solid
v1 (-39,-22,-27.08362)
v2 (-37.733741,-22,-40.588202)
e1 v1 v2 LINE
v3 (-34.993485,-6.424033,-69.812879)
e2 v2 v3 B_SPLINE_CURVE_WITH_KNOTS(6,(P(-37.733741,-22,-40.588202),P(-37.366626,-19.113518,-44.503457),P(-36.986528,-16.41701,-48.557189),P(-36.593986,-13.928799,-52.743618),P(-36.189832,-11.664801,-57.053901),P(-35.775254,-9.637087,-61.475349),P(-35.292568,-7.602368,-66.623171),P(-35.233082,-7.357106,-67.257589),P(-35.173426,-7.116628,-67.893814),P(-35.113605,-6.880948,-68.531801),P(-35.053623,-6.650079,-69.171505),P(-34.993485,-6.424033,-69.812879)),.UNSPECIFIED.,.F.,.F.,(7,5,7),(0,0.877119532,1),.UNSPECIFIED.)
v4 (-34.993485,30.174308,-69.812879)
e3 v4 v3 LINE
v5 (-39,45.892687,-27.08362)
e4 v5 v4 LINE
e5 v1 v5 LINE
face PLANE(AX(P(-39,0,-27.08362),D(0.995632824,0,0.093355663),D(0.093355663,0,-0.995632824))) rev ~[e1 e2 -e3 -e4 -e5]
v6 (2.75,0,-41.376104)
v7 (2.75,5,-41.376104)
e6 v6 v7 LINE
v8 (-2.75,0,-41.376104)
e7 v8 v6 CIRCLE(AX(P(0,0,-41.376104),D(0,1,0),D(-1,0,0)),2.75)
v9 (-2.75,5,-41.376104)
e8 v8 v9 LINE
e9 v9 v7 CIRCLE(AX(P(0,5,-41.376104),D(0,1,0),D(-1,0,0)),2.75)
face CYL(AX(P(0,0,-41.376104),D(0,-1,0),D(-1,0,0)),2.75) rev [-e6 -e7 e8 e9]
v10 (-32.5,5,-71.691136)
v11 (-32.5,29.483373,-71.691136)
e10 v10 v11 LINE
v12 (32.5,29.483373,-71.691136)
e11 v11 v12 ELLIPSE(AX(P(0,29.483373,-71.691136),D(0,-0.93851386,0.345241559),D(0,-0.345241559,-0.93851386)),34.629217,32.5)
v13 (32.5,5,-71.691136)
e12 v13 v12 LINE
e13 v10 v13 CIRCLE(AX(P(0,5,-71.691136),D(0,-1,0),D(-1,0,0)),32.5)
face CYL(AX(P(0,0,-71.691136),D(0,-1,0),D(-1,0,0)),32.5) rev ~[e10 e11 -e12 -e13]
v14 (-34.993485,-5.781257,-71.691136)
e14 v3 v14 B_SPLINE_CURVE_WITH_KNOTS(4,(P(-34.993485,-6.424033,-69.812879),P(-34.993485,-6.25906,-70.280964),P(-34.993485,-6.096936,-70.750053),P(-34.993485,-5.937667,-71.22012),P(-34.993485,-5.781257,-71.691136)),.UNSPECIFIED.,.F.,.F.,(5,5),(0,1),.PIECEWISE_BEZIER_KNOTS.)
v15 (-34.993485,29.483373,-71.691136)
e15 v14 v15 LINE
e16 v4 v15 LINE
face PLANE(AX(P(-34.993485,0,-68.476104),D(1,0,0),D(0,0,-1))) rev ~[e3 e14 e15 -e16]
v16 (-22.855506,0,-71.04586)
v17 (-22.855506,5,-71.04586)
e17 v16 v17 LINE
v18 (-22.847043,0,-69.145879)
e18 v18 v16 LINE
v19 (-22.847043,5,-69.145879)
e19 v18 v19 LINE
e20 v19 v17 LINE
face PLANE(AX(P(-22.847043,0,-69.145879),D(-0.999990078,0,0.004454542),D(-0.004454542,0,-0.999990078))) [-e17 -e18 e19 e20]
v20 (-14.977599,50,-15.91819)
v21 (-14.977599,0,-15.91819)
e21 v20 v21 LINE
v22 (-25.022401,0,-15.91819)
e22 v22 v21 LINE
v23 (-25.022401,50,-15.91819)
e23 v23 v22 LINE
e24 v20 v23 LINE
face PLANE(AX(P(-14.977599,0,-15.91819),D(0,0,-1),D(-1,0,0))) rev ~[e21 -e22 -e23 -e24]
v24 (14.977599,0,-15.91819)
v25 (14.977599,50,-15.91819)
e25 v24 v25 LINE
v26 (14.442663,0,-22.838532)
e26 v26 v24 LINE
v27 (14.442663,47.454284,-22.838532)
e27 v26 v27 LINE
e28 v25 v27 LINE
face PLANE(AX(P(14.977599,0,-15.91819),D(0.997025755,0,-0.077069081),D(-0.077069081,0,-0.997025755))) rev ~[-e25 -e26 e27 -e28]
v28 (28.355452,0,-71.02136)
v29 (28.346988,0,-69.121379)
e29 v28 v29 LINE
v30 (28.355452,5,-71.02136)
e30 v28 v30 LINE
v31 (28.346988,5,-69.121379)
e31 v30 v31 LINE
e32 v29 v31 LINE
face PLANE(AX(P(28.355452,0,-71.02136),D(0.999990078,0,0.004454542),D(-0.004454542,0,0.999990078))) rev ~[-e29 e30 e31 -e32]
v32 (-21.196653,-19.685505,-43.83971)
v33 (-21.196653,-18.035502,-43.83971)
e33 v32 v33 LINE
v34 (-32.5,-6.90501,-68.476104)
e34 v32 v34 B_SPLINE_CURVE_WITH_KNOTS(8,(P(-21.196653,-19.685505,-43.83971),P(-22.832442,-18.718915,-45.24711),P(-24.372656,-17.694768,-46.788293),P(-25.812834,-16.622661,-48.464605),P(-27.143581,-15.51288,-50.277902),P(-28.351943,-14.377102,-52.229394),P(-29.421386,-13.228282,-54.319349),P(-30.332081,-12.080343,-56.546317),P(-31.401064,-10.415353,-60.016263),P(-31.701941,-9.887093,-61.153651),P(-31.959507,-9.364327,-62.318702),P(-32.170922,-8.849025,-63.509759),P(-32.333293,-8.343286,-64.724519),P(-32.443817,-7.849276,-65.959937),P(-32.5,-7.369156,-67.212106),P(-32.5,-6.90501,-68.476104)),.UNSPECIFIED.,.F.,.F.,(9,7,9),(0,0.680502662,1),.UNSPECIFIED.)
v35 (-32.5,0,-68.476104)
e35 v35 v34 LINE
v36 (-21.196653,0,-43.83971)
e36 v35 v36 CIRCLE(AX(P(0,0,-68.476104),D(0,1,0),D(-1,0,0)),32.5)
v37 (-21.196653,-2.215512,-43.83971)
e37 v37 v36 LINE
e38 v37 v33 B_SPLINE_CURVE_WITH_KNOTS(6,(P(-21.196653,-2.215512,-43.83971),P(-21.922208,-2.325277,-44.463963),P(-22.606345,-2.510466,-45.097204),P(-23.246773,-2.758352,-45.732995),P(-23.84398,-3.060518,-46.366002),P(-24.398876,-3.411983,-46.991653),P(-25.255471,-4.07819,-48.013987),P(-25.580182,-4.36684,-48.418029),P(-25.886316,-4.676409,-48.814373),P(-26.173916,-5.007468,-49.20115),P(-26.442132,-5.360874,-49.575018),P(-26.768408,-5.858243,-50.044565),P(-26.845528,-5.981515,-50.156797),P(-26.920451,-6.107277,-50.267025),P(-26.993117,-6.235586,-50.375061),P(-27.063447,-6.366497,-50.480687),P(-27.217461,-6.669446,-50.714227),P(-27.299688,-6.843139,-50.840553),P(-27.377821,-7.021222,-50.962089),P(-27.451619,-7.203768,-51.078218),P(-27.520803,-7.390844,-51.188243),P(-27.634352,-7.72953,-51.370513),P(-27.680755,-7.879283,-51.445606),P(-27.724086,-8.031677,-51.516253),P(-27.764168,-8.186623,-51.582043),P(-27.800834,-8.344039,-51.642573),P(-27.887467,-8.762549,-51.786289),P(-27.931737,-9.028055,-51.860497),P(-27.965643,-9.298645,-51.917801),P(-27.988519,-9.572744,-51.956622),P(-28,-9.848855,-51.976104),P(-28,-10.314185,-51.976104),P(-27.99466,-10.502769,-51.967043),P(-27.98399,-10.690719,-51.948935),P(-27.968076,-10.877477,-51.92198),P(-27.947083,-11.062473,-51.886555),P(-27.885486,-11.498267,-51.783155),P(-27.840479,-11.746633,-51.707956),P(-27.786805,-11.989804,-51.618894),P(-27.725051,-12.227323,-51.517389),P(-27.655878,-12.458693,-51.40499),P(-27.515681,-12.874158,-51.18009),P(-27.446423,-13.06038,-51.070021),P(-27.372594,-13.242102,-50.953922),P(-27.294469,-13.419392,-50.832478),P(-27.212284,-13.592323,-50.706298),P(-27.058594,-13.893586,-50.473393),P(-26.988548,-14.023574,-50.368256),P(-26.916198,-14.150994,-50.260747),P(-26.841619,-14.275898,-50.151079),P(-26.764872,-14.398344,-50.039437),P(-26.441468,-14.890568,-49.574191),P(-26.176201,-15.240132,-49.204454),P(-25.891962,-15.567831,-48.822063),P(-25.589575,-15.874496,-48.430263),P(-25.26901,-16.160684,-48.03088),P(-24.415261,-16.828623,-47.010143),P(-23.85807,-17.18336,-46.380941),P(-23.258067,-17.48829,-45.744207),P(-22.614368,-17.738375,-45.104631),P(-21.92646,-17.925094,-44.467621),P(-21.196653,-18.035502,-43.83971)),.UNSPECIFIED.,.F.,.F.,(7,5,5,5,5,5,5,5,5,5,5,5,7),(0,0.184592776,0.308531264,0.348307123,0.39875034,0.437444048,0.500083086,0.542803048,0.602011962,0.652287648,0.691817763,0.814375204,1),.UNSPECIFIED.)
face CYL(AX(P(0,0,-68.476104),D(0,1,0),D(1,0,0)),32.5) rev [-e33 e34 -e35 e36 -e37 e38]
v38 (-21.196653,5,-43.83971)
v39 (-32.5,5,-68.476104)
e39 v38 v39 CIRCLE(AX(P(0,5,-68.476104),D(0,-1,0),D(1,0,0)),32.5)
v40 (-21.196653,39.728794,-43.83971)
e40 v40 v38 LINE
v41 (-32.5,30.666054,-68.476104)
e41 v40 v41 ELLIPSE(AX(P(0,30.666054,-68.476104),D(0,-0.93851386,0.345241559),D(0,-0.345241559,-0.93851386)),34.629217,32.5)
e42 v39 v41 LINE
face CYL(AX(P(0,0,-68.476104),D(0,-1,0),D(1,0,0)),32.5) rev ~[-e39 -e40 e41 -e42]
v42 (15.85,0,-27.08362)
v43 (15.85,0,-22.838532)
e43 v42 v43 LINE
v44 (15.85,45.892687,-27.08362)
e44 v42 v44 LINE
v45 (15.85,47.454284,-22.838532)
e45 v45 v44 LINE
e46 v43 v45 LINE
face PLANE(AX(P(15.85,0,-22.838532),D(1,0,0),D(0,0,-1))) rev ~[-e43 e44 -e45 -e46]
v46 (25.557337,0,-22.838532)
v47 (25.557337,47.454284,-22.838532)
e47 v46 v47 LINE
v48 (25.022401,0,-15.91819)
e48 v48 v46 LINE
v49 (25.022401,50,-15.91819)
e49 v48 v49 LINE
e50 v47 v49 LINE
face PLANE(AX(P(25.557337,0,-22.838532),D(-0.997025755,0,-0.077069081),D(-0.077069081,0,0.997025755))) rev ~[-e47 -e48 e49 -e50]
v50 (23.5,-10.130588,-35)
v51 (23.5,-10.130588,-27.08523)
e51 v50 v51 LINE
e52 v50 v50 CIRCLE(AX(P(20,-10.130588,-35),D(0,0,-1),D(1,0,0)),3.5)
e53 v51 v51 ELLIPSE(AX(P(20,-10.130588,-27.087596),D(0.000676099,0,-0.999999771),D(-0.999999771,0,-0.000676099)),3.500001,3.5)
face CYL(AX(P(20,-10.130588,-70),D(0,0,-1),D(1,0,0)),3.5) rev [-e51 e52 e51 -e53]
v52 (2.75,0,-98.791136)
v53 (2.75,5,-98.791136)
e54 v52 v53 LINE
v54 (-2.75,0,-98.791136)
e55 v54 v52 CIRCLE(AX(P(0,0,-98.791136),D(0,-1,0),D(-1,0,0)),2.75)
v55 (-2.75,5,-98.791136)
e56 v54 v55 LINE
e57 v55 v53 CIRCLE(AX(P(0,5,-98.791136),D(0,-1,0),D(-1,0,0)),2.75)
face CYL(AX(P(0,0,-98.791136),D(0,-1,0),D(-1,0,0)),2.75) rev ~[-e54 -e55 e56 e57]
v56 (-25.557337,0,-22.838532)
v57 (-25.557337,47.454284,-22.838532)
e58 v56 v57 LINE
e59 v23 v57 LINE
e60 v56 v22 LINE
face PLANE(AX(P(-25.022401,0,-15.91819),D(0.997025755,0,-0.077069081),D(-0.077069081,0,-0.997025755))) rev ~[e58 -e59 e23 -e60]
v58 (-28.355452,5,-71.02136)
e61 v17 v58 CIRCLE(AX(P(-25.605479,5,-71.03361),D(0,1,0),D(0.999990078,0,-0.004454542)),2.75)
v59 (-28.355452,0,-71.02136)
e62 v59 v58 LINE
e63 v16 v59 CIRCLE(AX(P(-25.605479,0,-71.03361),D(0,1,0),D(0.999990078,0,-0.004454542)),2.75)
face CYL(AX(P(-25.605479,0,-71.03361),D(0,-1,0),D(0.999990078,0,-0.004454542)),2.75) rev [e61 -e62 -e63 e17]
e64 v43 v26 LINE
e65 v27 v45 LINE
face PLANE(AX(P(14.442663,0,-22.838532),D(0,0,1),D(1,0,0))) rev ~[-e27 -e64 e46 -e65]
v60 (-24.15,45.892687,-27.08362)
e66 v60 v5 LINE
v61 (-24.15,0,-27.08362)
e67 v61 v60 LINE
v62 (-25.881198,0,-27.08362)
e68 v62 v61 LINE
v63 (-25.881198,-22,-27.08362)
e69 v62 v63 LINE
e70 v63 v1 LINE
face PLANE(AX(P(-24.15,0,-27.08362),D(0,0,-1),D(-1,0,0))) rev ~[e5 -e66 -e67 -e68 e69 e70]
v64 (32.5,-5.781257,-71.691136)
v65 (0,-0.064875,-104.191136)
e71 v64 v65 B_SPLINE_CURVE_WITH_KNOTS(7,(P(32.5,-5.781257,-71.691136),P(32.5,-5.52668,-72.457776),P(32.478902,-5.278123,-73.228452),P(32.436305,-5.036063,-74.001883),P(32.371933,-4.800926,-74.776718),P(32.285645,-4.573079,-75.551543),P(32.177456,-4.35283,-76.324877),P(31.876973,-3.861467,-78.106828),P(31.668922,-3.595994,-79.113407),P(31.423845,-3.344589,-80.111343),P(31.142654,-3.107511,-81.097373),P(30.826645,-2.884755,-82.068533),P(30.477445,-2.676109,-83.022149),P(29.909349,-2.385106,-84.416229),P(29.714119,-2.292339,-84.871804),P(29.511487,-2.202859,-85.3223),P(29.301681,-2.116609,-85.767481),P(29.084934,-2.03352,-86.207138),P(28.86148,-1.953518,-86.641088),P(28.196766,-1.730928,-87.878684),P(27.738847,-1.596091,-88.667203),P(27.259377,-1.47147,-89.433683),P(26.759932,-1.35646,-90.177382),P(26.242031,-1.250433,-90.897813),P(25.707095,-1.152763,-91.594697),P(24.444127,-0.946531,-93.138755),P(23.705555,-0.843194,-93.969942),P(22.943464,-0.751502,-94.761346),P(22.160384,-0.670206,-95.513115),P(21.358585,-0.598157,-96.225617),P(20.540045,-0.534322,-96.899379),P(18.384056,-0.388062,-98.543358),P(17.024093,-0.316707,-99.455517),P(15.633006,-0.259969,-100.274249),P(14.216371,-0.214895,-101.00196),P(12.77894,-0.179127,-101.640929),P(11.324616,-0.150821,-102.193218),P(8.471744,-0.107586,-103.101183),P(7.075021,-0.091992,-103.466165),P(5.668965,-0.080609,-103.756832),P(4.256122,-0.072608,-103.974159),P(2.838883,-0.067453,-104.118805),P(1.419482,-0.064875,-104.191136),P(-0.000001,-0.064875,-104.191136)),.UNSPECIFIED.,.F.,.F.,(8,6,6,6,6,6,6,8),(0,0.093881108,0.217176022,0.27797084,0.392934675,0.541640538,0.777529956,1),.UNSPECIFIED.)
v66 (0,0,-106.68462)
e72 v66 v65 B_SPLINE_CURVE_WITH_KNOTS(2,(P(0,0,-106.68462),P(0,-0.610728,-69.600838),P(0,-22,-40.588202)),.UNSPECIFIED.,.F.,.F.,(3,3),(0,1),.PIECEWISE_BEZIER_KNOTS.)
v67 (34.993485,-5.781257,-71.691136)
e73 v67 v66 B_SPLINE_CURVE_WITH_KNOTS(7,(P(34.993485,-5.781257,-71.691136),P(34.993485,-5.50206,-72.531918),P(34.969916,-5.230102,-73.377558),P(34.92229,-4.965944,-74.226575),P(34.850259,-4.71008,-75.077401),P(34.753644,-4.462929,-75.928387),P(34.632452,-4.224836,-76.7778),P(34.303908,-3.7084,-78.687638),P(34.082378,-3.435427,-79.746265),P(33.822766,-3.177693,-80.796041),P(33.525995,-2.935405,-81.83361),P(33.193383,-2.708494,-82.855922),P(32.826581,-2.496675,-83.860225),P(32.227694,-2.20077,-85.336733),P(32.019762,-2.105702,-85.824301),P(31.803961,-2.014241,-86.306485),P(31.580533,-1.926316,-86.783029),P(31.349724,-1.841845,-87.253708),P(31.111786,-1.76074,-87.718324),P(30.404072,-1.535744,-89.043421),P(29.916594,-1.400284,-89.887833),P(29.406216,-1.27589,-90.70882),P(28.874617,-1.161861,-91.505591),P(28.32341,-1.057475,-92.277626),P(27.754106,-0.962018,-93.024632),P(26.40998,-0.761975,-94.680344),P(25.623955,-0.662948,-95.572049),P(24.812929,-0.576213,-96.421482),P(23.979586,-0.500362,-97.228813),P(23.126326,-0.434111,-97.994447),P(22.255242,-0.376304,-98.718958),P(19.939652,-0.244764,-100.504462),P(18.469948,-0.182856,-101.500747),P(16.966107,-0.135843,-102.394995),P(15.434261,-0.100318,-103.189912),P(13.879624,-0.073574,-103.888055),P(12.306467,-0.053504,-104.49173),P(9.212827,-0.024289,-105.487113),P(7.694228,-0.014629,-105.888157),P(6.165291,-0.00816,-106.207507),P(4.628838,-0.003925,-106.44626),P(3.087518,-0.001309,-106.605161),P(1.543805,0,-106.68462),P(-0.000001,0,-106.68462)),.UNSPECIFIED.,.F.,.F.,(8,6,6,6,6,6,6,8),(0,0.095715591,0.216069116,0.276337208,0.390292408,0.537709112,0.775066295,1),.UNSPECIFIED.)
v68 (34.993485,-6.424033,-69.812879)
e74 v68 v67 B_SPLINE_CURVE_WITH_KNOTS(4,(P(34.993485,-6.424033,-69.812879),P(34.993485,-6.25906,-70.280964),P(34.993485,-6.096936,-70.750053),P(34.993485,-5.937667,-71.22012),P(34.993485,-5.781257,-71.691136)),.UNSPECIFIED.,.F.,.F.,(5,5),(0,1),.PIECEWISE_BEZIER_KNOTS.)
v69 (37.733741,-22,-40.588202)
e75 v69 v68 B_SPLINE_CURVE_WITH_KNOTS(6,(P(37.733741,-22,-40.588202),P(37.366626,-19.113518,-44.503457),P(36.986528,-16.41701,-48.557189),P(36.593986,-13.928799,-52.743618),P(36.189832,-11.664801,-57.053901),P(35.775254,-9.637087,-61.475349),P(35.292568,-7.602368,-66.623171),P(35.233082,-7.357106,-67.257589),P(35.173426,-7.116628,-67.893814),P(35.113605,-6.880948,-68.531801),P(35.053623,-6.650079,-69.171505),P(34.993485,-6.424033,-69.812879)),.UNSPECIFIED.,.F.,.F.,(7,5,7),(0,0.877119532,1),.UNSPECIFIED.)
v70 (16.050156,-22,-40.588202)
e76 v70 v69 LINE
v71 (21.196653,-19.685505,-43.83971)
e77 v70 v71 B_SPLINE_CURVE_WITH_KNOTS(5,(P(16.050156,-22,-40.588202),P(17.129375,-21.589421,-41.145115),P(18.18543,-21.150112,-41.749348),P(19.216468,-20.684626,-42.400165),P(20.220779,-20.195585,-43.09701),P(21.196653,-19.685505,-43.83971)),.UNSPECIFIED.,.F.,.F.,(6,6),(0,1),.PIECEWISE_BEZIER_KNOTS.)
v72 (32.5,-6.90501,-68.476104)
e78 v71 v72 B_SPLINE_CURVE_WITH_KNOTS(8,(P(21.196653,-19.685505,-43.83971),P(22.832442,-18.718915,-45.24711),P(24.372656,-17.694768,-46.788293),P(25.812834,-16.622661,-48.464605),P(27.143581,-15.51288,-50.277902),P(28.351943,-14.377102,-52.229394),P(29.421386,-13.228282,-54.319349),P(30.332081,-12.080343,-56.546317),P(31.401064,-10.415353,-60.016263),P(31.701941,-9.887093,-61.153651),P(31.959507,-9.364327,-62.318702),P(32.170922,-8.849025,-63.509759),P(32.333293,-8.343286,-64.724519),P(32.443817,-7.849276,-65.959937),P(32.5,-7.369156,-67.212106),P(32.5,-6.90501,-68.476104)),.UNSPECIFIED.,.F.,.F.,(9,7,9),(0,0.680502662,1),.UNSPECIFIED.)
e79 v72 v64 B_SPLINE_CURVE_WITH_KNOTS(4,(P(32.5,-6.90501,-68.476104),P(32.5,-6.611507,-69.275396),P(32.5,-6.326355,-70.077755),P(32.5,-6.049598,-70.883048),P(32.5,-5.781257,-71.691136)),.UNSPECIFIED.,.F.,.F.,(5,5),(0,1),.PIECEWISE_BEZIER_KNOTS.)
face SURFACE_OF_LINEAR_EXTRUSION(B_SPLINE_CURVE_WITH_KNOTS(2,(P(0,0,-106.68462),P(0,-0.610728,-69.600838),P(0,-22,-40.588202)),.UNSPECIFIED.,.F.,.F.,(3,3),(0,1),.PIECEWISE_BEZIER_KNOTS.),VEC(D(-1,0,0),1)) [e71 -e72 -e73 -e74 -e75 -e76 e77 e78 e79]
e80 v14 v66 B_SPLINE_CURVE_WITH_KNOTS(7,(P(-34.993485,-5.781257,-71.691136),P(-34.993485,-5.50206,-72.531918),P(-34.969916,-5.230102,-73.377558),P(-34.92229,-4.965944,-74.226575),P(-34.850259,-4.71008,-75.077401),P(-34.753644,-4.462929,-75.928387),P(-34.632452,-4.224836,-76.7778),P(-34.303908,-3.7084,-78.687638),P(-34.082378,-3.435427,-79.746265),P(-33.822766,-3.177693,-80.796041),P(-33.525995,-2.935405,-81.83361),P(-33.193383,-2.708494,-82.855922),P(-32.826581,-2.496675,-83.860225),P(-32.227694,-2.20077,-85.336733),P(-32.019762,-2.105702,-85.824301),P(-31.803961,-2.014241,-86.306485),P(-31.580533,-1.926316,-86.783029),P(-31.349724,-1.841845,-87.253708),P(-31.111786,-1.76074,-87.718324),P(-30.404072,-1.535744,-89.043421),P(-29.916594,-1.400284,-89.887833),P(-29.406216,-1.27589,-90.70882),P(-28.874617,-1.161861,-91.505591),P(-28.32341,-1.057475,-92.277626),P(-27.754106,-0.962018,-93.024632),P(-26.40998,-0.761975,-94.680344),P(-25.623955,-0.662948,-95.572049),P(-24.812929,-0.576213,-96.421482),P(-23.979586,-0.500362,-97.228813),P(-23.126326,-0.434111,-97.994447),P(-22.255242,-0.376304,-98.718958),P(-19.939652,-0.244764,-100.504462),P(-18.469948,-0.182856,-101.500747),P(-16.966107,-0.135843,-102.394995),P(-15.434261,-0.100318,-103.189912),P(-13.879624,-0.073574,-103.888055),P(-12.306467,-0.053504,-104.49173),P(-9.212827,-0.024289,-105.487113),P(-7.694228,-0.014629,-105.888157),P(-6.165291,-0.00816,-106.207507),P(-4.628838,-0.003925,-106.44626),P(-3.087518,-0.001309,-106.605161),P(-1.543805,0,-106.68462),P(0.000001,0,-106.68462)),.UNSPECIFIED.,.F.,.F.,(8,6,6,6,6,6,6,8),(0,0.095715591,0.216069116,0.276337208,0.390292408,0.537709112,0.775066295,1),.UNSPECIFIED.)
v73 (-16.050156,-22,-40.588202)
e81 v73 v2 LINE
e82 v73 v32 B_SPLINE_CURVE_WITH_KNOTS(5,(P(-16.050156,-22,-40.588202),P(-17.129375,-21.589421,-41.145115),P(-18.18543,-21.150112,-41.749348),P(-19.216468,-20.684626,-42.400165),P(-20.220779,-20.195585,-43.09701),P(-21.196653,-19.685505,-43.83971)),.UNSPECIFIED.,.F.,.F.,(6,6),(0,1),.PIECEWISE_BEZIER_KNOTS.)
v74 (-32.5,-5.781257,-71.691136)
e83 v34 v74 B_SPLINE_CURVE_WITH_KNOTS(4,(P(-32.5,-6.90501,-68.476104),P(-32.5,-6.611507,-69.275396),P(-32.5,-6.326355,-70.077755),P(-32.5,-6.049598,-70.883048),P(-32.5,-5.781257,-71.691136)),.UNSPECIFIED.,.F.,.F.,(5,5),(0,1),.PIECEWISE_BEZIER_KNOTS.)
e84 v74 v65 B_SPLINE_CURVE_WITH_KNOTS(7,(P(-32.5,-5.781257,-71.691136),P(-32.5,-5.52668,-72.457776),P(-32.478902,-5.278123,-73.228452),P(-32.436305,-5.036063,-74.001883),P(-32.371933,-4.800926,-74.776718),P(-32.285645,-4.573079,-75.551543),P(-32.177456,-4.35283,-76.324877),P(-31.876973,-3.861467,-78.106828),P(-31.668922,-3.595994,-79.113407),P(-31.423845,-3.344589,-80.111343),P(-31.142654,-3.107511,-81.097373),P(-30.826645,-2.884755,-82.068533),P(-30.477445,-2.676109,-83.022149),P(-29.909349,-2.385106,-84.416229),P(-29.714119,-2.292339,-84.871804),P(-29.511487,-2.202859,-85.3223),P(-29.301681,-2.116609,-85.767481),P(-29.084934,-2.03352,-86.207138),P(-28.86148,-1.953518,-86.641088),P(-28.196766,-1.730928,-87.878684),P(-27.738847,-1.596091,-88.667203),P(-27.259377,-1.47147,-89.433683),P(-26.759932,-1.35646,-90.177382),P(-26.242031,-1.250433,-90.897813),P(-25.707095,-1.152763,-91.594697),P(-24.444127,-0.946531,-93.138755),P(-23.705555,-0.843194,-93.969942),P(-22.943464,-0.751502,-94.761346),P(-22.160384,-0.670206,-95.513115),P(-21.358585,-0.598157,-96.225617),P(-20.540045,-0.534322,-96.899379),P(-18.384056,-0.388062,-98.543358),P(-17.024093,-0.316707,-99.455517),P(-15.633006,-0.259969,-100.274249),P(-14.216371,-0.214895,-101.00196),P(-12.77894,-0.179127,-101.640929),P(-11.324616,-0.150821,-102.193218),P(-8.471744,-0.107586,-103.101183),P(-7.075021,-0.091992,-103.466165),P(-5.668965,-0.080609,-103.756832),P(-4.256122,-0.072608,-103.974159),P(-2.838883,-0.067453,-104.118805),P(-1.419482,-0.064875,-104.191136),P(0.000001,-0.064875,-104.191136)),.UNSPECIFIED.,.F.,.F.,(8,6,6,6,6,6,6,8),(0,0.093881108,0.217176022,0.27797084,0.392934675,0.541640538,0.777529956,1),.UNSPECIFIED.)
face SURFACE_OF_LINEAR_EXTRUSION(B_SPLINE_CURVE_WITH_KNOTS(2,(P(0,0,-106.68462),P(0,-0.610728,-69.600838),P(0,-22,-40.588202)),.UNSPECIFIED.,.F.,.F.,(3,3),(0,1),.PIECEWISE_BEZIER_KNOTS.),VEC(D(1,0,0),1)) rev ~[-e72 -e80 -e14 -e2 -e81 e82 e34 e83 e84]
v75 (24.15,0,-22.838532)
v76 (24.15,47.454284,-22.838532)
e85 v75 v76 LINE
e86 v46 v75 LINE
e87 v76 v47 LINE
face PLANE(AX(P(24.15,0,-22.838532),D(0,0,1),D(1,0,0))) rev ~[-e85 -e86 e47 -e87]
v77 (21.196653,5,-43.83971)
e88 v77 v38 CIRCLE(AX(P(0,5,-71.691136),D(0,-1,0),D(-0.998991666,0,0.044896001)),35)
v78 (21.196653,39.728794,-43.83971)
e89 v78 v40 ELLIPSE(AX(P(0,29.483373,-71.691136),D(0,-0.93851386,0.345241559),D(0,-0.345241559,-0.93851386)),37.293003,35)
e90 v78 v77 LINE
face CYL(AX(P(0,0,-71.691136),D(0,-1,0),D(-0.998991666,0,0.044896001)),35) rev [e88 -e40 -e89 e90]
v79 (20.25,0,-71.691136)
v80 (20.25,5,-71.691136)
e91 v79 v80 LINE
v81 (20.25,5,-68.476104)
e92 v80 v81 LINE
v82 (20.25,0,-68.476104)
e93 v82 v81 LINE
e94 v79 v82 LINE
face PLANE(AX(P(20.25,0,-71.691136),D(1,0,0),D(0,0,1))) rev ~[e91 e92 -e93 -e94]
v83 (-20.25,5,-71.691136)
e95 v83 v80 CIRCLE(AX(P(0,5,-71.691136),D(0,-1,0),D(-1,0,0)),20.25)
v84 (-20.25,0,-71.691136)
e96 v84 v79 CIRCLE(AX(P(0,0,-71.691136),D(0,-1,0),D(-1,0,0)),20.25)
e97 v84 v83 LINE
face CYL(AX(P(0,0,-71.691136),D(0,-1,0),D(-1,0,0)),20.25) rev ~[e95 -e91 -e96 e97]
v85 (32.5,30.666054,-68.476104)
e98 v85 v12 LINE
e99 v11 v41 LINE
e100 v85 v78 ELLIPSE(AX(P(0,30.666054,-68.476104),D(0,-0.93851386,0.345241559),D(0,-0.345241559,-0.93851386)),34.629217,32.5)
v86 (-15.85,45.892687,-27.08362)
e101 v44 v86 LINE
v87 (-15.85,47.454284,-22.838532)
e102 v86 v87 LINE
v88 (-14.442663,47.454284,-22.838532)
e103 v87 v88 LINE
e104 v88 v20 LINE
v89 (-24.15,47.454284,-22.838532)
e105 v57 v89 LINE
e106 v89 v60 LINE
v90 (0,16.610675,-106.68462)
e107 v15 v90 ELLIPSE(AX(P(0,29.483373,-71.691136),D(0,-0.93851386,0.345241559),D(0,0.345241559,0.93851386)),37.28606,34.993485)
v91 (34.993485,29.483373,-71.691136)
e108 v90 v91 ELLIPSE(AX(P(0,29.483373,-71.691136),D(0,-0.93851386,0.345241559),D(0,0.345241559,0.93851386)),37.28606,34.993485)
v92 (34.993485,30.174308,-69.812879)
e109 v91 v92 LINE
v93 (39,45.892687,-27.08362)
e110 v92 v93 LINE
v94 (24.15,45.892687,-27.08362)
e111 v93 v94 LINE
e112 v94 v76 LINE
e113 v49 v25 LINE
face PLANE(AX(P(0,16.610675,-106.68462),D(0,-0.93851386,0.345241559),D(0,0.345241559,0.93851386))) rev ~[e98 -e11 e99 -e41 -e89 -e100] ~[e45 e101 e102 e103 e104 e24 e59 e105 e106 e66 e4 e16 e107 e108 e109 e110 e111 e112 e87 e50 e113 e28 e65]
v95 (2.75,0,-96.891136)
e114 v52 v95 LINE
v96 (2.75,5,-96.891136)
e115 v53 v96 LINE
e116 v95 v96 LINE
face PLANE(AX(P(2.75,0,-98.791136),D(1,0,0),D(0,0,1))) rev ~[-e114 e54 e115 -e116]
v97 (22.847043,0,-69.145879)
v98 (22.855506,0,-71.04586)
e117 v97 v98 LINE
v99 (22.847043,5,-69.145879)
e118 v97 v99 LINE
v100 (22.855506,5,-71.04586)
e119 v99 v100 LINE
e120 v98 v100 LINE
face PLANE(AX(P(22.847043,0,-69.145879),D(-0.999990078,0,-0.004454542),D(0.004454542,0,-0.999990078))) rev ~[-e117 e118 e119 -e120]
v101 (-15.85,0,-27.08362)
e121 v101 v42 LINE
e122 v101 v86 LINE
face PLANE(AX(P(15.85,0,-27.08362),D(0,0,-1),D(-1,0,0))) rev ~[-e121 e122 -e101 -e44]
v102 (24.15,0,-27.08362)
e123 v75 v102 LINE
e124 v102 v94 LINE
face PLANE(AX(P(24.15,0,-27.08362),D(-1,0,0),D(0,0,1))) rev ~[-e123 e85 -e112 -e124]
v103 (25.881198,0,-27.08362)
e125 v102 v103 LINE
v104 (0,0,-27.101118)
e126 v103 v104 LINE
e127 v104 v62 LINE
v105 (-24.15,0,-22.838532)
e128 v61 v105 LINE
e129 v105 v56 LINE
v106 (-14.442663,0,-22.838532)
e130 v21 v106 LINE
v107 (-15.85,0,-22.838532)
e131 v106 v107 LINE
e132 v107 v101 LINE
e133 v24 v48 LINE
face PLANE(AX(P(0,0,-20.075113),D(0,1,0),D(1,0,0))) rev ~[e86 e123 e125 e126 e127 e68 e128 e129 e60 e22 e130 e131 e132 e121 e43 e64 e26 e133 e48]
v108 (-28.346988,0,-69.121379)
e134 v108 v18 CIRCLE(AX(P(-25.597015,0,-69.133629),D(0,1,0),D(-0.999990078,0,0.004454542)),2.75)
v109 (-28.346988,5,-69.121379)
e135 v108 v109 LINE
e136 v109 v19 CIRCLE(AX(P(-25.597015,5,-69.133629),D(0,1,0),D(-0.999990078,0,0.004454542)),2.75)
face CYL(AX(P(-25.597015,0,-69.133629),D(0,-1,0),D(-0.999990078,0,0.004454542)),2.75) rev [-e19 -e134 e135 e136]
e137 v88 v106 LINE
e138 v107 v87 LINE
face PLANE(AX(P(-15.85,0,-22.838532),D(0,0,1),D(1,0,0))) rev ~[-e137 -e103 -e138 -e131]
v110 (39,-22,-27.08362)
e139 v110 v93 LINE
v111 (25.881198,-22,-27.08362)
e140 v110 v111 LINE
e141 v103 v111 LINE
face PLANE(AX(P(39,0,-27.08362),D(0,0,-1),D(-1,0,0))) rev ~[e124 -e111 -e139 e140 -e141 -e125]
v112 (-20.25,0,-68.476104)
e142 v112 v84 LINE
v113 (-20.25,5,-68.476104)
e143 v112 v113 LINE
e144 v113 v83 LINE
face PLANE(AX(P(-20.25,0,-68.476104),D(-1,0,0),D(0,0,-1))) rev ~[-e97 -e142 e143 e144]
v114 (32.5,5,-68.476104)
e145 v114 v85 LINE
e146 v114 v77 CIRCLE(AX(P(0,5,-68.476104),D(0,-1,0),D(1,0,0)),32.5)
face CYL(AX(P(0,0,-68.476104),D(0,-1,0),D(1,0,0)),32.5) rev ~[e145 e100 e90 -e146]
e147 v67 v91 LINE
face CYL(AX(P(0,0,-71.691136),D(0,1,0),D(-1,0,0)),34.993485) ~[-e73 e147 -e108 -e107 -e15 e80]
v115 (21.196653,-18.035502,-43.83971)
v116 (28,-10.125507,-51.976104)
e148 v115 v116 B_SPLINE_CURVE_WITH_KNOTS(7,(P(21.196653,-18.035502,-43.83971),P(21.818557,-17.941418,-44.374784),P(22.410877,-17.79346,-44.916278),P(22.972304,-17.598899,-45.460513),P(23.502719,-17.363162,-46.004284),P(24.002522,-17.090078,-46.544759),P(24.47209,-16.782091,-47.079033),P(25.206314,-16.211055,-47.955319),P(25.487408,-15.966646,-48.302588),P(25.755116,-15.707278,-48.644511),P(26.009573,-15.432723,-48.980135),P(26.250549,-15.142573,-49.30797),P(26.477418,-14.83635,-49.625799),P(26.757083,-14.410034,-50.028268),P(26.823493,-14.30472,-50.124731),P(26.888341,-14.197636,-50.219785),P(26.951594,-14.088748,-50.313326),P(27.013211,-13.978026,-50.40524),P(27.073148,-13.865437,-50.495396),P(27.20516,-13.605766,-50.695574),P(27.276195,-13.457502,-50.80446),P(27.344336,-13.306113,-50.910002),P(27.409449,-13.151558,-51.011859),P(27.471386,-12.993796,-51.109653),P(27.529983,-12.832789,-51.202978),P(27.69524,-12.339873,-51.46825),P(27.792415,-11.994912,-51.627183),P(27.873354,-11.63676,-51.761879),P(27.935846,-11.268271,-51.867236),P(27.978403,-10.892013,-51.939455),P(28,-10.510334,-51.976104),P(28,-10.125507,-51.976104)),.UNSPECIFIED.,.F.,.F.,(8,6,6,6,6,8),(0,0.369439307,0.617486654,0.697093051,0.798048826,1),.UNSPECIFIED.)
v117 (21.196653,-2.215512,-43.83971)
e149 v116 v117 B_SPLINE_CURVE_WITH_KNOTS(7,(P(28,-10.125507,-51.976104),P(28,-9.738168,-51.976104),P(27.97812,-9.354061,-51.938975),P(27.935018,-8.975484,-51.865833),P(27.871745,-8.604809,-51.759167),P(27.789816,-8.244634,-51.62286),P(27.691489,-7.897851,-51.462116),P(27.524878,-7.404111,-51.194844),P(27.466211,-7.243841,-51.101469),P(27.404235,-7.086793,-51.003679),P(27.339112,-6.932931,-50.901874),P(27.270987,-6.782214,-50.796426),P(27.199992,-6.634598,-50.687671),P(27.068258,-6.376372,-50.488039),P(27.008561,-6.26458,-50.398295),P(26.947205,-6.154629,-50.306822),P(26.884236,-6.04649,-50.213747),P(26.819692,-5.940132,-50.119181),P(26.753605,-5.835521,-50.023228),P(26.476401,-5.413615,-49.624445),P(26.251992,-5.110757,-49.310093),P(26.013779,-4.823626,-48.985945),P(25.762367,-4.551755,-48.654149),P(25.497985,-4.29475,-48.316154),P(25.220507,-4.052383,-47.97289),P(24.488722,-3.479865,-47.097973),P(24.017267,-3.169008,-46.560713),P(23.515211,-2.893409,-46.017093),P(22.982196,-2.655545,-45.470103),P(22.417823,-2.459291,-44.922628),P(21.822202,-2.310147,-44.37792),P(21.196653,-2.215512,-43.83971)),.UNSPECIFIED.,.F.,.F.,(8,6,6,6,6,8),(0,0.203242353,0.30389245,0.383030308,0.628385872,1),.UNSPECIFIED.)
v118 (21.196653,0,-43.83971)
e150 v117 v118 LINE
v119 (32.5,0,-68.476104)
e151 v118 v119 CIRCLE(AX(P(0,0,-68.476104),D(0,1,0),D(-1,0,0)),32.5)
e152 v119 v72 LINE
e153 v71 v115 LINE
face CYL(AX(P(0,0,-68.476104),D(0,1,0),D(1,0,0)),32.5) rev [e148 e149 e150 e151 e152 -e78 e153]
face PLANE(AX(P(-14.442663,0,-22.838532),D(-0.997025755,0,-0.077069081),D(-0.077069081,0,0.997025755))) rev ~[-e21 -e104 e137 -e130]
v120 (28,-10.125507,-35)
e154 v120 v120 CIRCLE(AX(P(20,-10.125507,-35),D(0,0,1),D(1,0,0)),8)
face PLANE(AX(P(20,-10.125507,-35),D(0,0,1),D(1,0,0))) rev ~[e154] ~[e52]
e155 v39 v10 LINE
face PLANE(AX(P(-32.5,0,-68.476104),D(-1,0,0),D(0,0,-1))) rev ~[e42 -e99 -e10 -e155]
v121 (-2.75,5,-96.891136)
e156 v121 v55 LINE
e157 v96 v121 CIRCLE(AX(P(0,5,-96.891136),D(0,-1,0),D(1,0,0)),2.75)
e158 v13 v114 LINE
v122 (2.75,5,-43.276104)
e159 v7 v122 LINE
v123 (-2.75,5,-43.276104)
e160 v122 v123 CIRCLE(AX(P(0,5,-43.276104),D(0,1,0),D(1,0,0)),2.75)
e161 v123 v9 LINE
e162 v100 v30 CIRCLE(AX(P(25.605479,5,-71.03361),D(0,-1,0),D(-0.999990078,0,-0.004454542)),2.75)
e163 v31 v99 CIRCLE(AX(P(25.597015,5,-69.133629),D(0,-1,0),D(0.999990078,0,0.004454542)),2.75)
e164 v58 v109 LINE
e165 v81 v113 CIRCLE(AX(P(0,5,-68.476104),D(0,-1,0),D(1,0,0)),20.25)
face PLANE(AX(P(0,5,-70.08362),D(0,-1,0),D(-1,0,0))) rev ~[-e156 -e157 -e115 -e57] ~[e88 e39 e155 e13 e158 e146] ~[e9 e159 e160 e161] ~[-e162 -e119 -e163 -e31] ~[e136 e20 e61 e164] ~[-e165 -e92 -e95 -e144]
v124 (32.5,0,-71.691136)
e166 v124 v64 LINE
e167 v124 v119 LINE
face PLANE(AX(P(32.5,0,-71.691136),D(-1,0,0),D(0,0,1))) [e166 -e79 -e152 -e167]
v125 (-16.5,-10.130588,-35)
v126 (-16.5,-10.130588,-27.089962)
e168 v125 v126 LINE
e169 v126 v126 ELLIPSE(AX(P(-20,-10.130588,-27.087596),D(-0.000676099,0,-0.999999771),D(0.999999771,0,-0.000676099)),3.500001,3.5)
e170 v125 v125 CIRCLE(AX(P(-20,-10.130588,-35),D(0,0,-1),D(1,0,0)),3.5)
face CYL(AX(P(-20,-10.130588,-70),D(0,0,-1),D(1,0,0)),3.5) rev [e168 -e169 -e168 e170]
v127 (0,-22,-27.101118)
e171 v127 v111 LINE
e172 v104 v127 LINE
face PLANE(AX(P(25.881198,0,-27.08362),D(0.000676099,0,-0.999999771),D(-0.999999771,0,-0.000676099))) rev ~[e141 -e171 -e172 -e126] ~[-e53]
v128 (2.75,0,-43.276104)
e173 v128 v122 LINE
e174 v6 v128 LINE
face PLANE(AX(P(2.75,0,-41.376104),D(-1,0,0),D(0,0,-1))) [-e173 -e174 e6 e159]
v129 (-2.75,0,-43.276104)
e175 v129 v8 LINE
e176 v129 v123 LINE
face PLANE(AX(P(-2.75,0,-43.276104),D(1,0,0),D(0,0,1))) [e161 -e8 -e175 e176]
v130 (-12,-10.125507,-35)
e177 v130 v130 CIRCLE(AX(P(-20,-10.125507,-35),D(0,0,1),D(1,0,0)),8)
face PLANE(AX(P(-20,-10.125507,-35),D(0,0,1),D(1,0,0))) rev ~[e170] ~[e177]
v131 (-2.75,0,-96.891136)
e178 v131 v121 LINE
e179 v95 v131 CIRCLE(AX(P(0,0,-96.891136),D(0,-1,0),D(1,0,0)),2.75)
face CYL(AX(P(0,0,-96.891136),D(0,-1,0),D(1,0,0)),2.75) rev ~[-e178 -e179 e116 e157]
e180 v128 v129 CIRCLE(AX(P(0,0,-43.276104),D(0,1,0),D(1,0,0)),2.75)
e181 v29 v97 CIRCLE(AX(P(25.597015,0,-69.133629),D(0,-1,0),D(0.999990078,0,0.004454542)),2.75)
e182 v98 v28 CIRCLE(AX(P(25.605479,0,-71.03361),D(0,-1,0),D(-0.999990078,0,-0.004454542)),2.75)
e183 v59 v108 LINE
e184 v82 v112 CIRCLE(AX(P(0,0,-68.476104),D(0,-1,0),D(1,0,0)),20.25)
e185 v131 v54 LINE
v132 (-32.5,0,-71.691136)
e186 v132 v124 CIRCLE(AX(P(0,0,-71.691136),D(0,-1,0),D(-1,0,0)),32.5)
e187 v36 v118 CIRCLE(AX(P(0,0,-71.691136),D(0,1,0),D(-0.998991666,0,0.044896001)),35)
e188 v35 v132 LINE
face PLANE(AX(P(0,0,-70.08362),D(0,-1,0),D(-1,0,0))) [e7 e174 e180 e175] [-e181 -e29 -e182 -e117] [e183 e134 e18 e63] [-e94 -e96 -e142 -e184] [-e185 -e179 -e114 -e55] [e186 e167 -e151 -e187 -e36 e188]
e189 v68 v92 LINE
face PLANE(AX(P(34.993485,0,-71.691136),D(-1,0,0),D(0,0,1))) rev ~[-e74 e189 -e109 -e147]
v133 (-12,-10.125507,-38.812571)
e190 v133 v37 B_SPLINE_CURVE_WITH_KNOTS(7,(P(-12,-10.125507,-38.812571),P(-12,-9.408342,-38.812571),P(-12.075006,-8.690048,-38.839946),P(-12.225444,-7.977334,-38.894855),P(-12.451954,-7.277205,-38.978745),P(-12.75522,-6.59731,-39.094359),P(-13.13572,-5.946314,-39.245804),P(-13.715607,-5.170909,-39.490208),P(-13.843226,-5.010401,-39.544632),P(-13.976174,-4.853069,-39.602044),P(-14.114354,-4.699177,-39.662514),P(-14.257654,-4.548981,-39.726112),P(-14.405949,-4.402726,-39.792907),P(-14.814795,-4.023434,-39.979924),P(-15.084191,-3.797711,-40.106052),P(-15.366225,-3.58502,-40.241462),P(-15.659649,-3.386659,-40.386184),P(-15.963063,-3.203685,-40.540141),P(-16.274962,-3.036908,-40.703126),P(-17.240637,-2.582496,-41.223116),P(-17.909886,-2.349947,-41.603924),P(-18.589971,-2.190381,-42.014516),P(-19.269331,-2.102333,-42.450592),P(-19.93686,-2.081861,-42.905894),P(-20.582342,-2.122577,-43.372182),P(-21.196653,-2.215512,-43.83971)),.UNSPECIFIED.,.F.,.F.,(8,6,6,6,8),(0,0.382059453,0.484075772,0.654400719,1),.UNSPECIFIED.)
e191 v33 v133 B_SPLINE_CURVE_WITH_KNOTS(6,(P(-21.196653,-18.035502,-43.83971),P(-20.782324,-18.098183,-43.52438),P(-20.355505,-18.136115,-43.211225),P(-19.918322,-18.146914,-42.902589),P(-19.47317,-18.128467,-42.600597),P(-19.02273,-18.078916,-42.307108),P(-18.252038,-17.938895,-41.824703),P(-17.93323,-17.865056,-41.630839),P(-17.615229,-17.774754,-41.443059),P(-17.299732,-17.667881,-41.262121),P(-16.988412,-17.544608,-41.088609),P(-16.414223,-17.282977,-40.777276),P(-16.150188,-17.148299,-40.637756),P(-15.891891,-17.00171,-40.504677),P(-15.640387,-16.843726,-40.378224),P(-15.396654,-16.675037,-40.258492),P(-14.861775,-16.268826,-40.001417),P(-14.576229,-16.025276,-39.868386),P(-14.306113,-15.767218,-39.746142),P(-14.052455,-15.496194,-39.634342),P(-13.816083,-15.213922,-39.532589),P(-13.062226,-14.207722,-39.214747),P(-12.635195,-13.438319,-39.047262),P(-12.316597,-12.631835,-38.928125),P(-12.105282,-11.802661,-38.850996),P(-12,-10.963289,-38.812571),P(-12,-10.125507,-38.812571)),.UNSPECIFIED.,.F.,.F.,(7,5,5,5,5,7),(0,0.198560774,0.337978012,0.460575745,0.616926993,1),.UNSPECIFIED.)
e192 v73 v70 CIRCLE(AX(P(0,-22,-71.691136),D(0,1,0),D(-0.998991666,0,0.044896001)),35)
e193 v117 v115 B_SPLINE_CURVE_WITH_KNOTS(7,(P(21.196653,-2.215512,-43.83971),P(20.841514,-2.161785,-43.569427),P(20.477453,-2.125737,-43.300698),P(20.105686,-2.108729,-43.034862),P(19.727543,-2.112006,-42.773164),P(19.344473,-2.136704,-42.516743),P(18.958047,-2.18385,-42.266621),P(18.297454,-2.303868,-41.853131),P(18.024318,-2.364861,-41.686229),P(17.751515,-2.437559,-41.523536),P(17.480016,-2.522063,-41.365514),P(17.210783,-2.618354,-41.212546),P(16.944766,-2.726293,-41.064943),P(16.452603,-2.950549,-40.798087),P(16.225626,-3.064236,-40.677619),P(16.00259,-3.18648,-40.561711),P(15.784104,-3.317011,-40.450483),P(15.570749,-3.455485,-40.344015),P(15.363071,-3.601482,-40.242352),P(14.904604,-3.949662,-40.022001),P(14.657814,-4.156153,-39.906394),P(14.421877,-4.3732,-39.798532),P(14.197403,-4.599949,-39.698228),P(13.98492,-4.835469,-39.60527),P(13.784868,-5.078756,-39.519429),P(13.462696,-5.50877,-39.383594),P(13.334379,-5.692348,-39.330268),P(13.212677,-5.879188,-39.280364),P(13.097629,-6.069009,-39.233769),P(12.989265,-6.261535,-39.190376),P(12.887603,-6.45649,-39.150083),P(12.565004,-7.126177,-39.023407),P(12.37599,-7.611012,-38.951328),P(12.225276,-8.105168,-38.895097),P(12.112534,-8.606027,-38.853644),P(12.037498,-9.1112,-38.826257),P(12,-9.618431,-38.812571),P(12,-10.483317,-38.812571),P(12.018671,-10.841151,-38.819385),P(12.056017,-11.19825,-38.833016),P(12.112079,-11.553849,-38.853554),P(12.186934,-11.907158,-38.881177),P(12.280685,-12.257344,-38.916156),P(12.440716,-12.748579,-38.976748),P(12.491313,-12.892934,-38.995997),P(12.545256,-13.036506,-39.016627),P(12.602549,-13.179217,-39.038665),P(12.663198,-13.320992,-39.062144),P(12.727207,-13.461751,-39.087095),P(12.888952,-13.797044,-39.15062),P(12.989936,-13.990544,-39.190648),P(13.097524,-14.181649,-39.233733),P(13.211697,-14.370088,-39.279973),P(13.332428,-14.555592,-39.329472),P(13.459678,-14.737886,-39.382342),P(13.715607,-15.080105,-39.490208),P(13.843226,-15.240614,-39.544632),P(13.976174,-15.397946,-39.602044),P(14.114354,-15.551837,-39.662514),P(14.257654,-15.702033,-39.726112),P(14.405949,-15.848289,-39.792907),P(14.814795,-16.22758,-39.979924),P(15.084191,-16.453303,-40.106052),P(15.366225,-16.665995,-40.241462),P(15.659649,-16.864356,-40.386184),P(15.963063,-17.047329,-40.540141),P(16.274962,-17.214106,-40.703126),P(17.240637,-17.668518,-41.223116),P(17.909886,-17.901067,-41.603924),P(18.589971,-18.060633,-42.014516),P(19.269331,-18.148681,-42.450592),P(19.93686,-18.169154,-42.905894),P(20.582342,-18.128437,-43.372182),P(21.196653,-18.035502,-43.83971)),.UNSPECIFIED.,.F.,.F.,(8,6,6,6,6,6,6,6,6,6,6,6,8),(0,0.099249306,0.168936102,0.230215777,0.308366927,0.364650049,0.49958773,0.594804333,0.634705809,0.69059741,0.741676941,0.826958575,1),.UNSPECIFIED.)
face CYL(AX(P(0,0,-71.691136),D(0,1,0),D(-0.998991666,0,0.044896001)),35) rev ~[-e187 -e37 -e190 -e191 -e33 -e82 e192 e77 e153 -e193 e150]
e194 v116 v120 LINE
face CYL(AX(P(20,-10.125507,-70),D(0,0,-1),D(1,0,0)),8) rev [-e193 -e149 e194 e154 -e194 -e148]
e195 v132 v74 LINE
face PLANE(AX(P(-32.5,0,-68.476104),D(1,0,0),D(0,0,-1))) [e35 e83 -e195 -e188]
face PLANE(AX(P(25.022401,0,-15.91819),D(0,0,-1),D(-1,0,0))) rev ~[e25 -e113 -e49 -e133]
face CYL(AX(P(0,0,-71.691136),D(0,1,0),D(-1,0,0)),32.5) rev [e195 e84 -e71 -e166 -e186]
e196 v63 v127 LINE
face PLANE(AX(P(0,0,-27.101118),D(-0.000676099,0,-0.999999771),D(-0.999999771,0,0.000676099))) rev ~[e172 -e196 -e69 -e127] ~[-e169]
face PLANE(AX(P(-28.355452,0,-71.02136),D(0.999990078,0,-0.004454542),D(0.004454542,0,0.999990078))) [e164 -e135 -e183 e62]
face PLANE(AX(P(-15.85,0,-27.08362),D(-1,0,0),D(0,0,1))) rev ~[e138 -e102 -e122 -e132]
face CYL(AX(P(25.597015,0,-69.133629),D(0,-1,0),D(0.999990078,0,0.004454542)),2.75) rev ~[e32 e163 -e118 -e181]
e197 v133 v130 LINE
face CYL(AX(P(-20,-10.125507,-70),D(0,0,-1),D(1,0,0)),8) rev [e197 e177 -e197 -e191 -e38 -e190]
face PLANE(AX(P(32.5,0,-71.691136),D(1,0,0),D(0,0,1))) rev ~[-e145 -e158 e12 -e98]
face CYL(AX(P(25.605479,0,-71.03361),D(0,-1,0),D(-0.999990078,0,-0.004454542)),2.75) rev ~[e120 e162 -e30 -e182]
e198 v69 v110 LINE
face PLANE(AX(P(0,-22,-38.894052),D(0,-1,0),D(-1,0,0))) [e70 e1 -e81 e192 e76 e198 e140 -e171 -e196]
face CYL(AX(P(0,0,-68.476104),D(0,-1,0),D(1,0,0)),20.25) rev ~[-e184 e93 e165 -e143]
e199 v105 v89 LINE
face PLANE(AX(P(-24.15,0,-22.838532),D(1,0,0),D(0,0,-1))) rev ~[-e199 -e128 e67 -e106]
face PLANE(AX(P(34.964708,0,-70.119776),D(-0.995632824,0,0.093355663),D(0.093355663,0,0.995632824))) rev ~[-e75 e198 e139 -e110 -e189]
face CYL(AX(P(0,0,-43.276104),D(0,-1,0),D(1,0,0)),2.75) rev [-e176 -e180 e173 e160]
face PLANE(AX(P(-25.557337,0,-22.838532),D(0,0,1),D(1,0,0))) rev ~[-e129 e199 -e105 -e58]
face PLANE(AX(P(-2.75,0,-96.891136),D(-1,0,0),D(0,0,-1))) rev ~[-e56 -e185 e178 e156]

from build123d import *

# Parameters (mm, degrees)
BOSS_EXTRUDE1_DEPTH      = 5
BOSS_EXTRUDE3_DEPTH      = 50
BOSS_EXTRUDE3_DEPTH_BACK = 22
BOSS_EXTRUDE4_DEPTH      = 50
BOSS_EXTRUDE4_DEPTH_BACK = 22
CUT_EXTRUDE3_DEPTH       = 50
SKETCH6_R                = 3.5
CUT_EXTRUDE7_DEPTH       = 74
SKETCH7_R                = 8
CUT_EXTRUDE8_DEPTH       = 35
CUT_EXTRUDE9_DEPTH       = 35


with BuildPart() as part:
    # Sketch1 → Boss-Extrude1 (new body)
    with BuildSketch(Plane(origin=(0, 0, 0), x_dir=(1, 0, 0), z_dir=(0, 1, 0))):
        with BuildLine():
            Line((32.5, 68.476103961), (32.5, 71.691135645))
            ThreePointArc((32.5, 71.691135645), (0, 104.191135645), (-32.5, 71.691135645))
            Line((-32.5, 71.691135645), (-32.5, 68.476103961))
            ThreePointArc((-32.5, 68.476103961), (0, 35.976103961), (32.5, 68.476103961))
        make_face()
        with BuildLine():
            Line((2.75, 43.276103961), (2.75, 41.376103961))
            ThreePointArc((2.75, 41.376103961), (0, 38.626103961), (-2.75, 41.376103961))
            Line((-2.75, 41.376103961), (-2.75, 43.276103961))
            ThreePointArc((-2.75, 43.276103961), (0, 46.026103961), (2.75, 43.276103961))
        make_face(mode=Mode.SUBTRACT)
        with BuildLine():
            ThreePointArc((-20.25, 71.691135645), (0, 91.941135645), (20.25, 71.691135645))
            Line((20.25, 71.691135645), (20.25, 68.476103961))
            ThreePointArc((20.25, 68.476103961), (0, 48.226103961), (-20.25, 68.476103961))
            Line((-20.25, 68.476103961), (-20.25, 71.691135645))
        make_face(mode=Mode.SUBTRACT)
        with BuildLine():
            Line((-28.346988019, 69.121379238), (-28.355451649, 71.021360387))
            ThreePointArc((-28.355451649, 71.021360387), (-25.617728924, 73.783583093), (-22.855506218, 71.045860368))
            Line((-22.855506218, 71.045860368), (-22.847042588, 69.145879219))
            ThreePointArc((-22.847042588, 69.145879219), (-25.584765313, 66.383656513), (-28.346988019, 69.121379238))
        make_face(mode=Mode.SUBTRACT)
        with BuildLine():
            ThreePointArc((22.855506218, 71.045860368), (25.617728924, 73.783583093), (28.355451649, 71.021360387))
            Line((28.355451649, 71.021360387), (28.346988019, 69.121379238))
            ThreePointArc((28.346988019, 69.121379238), (25.584765313, 66.383656513), (22.847042588, 69.145879219))
            Line((22.847042588, 69.145879219), (22.855506218, 71.045860368))
        make_face(mode=Mode.SUBTRACT)
        with BuildLine():
            ThreePointArc((-2.75, 98.791135645), (0, 101.541135645), (2.75, 98.791135645))
            Line((2.75, 98.791135645), (2.75, 96.891135645))
            ThreePointArc((2.75, 96.891135645), (0, 94.141135645), (-2.75, 96.891135645))
            Line((-2.75, 96.891135645), (-2.75, 98.791135645))
        make_face(mode=Mode.SUBTRACT)
    extrude(amount=BOSS_EXTRUDE1_DEPTH)

    # Sketch1<4> → Boss-Extrude3 (add, two sides: drawn at the far end of the back side and taken through both)
    with BuildSketch(Plane(origin=(0, 0, 0), x_dir=(1, 0, 0), z_dir=(0, 1, 0)).offset(-BOSS_EXTRUDE3_DEPTH_BACK)):
        with BuildLine():
            Line((34.993484539, 71.691135645), (34.993484539, 68.476103961))
            ThreePointArc((34.993484539, 68.476103961), (0, 33.482619422), (-34.993484539, 68.476103961))
            Line((-34.993484539, 68.476103961), (-34.993484539, 71.691135645))
            ThreePointArc((-34.993484539, 71.691135645), (0, 106.684620184), (34.993484539, 71.691135645))
        make_face()
        with BuildLine():
            Line((32.5, 71.691135645), (32.5, 68.476103961))
            ThreePointArc((32.5, 68.476103961), (0, 35.976103961), (-32.5, 68.476103961))
            Line((-32.5, 68.476103961), (-32.5, 71.691135645))
            ThreePointArc((-32.5, 71.691135645), (0, 104.191135645), (32.5, 71.691135645))
        make_face(mode=Mode.SUBTRACT)
    extrude(amount=BOSS_EXTRUDE3_DEPTH + BOSS_EXTRUDE3_DEPTH_BACK)

    # Sketch2 → Boss-Extrude4 (add, two sides: drawn at the far end of the back side and taken through both)
    with BuildSketch(Plane(origin=(0, 0, 0), x_dir=(1, 0, 0), z_dir=(0, 1, 0)).offset(-BOSS_EXTRUDE4_DEPTH_BACK)):
        with BuildLine():
            Line((-15.85, 22.838532478), (-14.442663196, 22.838532478))
            Line((-14.442663196, 22.838532478), (-14.977598698, 15.918189547))
            Line((-14.977598698, 15.918189547), (-25.022401302, 15.918189547))
            Line((-25.022401302, 15.918189547), (-25.557336804, 22.838532478))
            Line((-25.557336804, 22.838532478), (-24.15, 22.838532478))
            Line((-24.15, 22.838532478), (-24.15, 27.083619803))
            Line((-24.15, 27.083619803), (-25.25, 27.083619803))
            Line((-25.25, 27.083619803), (-39, 27.083619803))
            Line((-39, 27.083619803), (-34.964708316, 70.119775602))
            ThreePointArc((-34.964708316, 70.119775602), (0, 36.691135645), (34.964708316, 70.119775602))
            Line((34.964708316, 70.119775602), (39, 27.083619803))
            Line((39, 27.083619803), (25.25, 27.083619803))
            Line((25.25, 27.083619803), (24.15, 27.083619803))
            Line((24.15, 27.083619803), (24.15, 22.838532478))
            Line((24.15, 22.838532478), (25.557336804, 22.838532478))
            Line((25.557336804, 22.838532478), (25.022401302, 15.918189547))
            Line((25.022401302, 15.918189547), (14.977598698, 15.918189547))
            Line((14.977598698, 15.918189547), (14.442663196, 22.838532478))
            Line((14.442663196, 22.838532478), (15.85, 22.838532478))
            Line((15.85, 22.838532478), (15.85, 27.083619803))
            Line((15.85, 27.083619803), (14.75, 27.083619803))
            Line((14.75, 27.083619803), (-14.75, 27.083619803))
            Line((-14.75, 27.083619803), (-15.85, 27.083619803))
            Line((-15.85, 27.083619803), (-15.85, 22.838532478))
        make_face()
    extrude(amount=BOSS_EXTRUDE4_DEPTH + BOSS_EXTRUDE4_DEPTH_BACK)

    # Sketch8 → Cut-Extrude3 (cut, symmetric)
    with BuildSketch(Plane(origin=(0, 0, 0), x_dir=(0, 0, -1), z_dir=(1, 0, 0))):
        Polygon((15.918189547, 50), (106.684620184, 50), (106.684620184, 16.610675261), align=None)
        with BuildLine():
            Line((106.684620184, 0), (106.684620184, -22))
            Line((106.684620184, -22), (40.588201897, -22))
            add(Edge.make_bspline(
                [(106.684620184, 0), (69.600838441, -0.610728102), (40.588201897, -22)],
                knots=[0, 0, 0, 1, 1, 1], degree=2))
        make_face()
    extrude(amount=CUT_EXTRUDE3_DEPTH, both=True, mode=Mode.SUBTRACT)

    # Sketch6 → Cut-Extrude7 (cut)
    with BuildSketch(Plane.XY.offset(-70)):
        with Locations((-20, -10.130588175)):
            Circle(SKETCH6_R)
        with Locations((20, -10.130588175)):
            Circle(SKETCH6_R)
    extrude(amount=CUT_EXTRUDE7_DEPTH, mode=Mode.SUBTRACT)

    # Sketch7 → Cut-Extrude8 (cut)
    with BuildSketch(Plane.XY.offset(-70)):
        with Locations((-20, -10.125507159)):
            Circle(SKETCH7_R)
        with Locations((20, -10.125507159)):
            Circle(SKETCH7_R)
    extrude(amount=CUT_EXTRUDE8_DEPTH, mode=Mode.SUBTRACT)

    # Sketch4 → Cut-Extrude9 (cut)
    with BuildSketch(Plane(origin=(0, 0, 0), x_dir=(1, 0, 0), z_dir=(0, 1, 0))):
        Polygon((25.88119751, 27.083619803), (-2e-09, 27.101118051), (-25.88119751, 27.083619803), (-32.125, 22.89108437), (-32.33386562, 13.718189547), (0, 13.918189547), (32.33386562, 13.718189547), (32.125, 22.89108437), align=None)
    extrude(amount=-CUT_EXTRUDE9_DEPTH, mode=Mode.SUBTRACT)


solid = part.part
